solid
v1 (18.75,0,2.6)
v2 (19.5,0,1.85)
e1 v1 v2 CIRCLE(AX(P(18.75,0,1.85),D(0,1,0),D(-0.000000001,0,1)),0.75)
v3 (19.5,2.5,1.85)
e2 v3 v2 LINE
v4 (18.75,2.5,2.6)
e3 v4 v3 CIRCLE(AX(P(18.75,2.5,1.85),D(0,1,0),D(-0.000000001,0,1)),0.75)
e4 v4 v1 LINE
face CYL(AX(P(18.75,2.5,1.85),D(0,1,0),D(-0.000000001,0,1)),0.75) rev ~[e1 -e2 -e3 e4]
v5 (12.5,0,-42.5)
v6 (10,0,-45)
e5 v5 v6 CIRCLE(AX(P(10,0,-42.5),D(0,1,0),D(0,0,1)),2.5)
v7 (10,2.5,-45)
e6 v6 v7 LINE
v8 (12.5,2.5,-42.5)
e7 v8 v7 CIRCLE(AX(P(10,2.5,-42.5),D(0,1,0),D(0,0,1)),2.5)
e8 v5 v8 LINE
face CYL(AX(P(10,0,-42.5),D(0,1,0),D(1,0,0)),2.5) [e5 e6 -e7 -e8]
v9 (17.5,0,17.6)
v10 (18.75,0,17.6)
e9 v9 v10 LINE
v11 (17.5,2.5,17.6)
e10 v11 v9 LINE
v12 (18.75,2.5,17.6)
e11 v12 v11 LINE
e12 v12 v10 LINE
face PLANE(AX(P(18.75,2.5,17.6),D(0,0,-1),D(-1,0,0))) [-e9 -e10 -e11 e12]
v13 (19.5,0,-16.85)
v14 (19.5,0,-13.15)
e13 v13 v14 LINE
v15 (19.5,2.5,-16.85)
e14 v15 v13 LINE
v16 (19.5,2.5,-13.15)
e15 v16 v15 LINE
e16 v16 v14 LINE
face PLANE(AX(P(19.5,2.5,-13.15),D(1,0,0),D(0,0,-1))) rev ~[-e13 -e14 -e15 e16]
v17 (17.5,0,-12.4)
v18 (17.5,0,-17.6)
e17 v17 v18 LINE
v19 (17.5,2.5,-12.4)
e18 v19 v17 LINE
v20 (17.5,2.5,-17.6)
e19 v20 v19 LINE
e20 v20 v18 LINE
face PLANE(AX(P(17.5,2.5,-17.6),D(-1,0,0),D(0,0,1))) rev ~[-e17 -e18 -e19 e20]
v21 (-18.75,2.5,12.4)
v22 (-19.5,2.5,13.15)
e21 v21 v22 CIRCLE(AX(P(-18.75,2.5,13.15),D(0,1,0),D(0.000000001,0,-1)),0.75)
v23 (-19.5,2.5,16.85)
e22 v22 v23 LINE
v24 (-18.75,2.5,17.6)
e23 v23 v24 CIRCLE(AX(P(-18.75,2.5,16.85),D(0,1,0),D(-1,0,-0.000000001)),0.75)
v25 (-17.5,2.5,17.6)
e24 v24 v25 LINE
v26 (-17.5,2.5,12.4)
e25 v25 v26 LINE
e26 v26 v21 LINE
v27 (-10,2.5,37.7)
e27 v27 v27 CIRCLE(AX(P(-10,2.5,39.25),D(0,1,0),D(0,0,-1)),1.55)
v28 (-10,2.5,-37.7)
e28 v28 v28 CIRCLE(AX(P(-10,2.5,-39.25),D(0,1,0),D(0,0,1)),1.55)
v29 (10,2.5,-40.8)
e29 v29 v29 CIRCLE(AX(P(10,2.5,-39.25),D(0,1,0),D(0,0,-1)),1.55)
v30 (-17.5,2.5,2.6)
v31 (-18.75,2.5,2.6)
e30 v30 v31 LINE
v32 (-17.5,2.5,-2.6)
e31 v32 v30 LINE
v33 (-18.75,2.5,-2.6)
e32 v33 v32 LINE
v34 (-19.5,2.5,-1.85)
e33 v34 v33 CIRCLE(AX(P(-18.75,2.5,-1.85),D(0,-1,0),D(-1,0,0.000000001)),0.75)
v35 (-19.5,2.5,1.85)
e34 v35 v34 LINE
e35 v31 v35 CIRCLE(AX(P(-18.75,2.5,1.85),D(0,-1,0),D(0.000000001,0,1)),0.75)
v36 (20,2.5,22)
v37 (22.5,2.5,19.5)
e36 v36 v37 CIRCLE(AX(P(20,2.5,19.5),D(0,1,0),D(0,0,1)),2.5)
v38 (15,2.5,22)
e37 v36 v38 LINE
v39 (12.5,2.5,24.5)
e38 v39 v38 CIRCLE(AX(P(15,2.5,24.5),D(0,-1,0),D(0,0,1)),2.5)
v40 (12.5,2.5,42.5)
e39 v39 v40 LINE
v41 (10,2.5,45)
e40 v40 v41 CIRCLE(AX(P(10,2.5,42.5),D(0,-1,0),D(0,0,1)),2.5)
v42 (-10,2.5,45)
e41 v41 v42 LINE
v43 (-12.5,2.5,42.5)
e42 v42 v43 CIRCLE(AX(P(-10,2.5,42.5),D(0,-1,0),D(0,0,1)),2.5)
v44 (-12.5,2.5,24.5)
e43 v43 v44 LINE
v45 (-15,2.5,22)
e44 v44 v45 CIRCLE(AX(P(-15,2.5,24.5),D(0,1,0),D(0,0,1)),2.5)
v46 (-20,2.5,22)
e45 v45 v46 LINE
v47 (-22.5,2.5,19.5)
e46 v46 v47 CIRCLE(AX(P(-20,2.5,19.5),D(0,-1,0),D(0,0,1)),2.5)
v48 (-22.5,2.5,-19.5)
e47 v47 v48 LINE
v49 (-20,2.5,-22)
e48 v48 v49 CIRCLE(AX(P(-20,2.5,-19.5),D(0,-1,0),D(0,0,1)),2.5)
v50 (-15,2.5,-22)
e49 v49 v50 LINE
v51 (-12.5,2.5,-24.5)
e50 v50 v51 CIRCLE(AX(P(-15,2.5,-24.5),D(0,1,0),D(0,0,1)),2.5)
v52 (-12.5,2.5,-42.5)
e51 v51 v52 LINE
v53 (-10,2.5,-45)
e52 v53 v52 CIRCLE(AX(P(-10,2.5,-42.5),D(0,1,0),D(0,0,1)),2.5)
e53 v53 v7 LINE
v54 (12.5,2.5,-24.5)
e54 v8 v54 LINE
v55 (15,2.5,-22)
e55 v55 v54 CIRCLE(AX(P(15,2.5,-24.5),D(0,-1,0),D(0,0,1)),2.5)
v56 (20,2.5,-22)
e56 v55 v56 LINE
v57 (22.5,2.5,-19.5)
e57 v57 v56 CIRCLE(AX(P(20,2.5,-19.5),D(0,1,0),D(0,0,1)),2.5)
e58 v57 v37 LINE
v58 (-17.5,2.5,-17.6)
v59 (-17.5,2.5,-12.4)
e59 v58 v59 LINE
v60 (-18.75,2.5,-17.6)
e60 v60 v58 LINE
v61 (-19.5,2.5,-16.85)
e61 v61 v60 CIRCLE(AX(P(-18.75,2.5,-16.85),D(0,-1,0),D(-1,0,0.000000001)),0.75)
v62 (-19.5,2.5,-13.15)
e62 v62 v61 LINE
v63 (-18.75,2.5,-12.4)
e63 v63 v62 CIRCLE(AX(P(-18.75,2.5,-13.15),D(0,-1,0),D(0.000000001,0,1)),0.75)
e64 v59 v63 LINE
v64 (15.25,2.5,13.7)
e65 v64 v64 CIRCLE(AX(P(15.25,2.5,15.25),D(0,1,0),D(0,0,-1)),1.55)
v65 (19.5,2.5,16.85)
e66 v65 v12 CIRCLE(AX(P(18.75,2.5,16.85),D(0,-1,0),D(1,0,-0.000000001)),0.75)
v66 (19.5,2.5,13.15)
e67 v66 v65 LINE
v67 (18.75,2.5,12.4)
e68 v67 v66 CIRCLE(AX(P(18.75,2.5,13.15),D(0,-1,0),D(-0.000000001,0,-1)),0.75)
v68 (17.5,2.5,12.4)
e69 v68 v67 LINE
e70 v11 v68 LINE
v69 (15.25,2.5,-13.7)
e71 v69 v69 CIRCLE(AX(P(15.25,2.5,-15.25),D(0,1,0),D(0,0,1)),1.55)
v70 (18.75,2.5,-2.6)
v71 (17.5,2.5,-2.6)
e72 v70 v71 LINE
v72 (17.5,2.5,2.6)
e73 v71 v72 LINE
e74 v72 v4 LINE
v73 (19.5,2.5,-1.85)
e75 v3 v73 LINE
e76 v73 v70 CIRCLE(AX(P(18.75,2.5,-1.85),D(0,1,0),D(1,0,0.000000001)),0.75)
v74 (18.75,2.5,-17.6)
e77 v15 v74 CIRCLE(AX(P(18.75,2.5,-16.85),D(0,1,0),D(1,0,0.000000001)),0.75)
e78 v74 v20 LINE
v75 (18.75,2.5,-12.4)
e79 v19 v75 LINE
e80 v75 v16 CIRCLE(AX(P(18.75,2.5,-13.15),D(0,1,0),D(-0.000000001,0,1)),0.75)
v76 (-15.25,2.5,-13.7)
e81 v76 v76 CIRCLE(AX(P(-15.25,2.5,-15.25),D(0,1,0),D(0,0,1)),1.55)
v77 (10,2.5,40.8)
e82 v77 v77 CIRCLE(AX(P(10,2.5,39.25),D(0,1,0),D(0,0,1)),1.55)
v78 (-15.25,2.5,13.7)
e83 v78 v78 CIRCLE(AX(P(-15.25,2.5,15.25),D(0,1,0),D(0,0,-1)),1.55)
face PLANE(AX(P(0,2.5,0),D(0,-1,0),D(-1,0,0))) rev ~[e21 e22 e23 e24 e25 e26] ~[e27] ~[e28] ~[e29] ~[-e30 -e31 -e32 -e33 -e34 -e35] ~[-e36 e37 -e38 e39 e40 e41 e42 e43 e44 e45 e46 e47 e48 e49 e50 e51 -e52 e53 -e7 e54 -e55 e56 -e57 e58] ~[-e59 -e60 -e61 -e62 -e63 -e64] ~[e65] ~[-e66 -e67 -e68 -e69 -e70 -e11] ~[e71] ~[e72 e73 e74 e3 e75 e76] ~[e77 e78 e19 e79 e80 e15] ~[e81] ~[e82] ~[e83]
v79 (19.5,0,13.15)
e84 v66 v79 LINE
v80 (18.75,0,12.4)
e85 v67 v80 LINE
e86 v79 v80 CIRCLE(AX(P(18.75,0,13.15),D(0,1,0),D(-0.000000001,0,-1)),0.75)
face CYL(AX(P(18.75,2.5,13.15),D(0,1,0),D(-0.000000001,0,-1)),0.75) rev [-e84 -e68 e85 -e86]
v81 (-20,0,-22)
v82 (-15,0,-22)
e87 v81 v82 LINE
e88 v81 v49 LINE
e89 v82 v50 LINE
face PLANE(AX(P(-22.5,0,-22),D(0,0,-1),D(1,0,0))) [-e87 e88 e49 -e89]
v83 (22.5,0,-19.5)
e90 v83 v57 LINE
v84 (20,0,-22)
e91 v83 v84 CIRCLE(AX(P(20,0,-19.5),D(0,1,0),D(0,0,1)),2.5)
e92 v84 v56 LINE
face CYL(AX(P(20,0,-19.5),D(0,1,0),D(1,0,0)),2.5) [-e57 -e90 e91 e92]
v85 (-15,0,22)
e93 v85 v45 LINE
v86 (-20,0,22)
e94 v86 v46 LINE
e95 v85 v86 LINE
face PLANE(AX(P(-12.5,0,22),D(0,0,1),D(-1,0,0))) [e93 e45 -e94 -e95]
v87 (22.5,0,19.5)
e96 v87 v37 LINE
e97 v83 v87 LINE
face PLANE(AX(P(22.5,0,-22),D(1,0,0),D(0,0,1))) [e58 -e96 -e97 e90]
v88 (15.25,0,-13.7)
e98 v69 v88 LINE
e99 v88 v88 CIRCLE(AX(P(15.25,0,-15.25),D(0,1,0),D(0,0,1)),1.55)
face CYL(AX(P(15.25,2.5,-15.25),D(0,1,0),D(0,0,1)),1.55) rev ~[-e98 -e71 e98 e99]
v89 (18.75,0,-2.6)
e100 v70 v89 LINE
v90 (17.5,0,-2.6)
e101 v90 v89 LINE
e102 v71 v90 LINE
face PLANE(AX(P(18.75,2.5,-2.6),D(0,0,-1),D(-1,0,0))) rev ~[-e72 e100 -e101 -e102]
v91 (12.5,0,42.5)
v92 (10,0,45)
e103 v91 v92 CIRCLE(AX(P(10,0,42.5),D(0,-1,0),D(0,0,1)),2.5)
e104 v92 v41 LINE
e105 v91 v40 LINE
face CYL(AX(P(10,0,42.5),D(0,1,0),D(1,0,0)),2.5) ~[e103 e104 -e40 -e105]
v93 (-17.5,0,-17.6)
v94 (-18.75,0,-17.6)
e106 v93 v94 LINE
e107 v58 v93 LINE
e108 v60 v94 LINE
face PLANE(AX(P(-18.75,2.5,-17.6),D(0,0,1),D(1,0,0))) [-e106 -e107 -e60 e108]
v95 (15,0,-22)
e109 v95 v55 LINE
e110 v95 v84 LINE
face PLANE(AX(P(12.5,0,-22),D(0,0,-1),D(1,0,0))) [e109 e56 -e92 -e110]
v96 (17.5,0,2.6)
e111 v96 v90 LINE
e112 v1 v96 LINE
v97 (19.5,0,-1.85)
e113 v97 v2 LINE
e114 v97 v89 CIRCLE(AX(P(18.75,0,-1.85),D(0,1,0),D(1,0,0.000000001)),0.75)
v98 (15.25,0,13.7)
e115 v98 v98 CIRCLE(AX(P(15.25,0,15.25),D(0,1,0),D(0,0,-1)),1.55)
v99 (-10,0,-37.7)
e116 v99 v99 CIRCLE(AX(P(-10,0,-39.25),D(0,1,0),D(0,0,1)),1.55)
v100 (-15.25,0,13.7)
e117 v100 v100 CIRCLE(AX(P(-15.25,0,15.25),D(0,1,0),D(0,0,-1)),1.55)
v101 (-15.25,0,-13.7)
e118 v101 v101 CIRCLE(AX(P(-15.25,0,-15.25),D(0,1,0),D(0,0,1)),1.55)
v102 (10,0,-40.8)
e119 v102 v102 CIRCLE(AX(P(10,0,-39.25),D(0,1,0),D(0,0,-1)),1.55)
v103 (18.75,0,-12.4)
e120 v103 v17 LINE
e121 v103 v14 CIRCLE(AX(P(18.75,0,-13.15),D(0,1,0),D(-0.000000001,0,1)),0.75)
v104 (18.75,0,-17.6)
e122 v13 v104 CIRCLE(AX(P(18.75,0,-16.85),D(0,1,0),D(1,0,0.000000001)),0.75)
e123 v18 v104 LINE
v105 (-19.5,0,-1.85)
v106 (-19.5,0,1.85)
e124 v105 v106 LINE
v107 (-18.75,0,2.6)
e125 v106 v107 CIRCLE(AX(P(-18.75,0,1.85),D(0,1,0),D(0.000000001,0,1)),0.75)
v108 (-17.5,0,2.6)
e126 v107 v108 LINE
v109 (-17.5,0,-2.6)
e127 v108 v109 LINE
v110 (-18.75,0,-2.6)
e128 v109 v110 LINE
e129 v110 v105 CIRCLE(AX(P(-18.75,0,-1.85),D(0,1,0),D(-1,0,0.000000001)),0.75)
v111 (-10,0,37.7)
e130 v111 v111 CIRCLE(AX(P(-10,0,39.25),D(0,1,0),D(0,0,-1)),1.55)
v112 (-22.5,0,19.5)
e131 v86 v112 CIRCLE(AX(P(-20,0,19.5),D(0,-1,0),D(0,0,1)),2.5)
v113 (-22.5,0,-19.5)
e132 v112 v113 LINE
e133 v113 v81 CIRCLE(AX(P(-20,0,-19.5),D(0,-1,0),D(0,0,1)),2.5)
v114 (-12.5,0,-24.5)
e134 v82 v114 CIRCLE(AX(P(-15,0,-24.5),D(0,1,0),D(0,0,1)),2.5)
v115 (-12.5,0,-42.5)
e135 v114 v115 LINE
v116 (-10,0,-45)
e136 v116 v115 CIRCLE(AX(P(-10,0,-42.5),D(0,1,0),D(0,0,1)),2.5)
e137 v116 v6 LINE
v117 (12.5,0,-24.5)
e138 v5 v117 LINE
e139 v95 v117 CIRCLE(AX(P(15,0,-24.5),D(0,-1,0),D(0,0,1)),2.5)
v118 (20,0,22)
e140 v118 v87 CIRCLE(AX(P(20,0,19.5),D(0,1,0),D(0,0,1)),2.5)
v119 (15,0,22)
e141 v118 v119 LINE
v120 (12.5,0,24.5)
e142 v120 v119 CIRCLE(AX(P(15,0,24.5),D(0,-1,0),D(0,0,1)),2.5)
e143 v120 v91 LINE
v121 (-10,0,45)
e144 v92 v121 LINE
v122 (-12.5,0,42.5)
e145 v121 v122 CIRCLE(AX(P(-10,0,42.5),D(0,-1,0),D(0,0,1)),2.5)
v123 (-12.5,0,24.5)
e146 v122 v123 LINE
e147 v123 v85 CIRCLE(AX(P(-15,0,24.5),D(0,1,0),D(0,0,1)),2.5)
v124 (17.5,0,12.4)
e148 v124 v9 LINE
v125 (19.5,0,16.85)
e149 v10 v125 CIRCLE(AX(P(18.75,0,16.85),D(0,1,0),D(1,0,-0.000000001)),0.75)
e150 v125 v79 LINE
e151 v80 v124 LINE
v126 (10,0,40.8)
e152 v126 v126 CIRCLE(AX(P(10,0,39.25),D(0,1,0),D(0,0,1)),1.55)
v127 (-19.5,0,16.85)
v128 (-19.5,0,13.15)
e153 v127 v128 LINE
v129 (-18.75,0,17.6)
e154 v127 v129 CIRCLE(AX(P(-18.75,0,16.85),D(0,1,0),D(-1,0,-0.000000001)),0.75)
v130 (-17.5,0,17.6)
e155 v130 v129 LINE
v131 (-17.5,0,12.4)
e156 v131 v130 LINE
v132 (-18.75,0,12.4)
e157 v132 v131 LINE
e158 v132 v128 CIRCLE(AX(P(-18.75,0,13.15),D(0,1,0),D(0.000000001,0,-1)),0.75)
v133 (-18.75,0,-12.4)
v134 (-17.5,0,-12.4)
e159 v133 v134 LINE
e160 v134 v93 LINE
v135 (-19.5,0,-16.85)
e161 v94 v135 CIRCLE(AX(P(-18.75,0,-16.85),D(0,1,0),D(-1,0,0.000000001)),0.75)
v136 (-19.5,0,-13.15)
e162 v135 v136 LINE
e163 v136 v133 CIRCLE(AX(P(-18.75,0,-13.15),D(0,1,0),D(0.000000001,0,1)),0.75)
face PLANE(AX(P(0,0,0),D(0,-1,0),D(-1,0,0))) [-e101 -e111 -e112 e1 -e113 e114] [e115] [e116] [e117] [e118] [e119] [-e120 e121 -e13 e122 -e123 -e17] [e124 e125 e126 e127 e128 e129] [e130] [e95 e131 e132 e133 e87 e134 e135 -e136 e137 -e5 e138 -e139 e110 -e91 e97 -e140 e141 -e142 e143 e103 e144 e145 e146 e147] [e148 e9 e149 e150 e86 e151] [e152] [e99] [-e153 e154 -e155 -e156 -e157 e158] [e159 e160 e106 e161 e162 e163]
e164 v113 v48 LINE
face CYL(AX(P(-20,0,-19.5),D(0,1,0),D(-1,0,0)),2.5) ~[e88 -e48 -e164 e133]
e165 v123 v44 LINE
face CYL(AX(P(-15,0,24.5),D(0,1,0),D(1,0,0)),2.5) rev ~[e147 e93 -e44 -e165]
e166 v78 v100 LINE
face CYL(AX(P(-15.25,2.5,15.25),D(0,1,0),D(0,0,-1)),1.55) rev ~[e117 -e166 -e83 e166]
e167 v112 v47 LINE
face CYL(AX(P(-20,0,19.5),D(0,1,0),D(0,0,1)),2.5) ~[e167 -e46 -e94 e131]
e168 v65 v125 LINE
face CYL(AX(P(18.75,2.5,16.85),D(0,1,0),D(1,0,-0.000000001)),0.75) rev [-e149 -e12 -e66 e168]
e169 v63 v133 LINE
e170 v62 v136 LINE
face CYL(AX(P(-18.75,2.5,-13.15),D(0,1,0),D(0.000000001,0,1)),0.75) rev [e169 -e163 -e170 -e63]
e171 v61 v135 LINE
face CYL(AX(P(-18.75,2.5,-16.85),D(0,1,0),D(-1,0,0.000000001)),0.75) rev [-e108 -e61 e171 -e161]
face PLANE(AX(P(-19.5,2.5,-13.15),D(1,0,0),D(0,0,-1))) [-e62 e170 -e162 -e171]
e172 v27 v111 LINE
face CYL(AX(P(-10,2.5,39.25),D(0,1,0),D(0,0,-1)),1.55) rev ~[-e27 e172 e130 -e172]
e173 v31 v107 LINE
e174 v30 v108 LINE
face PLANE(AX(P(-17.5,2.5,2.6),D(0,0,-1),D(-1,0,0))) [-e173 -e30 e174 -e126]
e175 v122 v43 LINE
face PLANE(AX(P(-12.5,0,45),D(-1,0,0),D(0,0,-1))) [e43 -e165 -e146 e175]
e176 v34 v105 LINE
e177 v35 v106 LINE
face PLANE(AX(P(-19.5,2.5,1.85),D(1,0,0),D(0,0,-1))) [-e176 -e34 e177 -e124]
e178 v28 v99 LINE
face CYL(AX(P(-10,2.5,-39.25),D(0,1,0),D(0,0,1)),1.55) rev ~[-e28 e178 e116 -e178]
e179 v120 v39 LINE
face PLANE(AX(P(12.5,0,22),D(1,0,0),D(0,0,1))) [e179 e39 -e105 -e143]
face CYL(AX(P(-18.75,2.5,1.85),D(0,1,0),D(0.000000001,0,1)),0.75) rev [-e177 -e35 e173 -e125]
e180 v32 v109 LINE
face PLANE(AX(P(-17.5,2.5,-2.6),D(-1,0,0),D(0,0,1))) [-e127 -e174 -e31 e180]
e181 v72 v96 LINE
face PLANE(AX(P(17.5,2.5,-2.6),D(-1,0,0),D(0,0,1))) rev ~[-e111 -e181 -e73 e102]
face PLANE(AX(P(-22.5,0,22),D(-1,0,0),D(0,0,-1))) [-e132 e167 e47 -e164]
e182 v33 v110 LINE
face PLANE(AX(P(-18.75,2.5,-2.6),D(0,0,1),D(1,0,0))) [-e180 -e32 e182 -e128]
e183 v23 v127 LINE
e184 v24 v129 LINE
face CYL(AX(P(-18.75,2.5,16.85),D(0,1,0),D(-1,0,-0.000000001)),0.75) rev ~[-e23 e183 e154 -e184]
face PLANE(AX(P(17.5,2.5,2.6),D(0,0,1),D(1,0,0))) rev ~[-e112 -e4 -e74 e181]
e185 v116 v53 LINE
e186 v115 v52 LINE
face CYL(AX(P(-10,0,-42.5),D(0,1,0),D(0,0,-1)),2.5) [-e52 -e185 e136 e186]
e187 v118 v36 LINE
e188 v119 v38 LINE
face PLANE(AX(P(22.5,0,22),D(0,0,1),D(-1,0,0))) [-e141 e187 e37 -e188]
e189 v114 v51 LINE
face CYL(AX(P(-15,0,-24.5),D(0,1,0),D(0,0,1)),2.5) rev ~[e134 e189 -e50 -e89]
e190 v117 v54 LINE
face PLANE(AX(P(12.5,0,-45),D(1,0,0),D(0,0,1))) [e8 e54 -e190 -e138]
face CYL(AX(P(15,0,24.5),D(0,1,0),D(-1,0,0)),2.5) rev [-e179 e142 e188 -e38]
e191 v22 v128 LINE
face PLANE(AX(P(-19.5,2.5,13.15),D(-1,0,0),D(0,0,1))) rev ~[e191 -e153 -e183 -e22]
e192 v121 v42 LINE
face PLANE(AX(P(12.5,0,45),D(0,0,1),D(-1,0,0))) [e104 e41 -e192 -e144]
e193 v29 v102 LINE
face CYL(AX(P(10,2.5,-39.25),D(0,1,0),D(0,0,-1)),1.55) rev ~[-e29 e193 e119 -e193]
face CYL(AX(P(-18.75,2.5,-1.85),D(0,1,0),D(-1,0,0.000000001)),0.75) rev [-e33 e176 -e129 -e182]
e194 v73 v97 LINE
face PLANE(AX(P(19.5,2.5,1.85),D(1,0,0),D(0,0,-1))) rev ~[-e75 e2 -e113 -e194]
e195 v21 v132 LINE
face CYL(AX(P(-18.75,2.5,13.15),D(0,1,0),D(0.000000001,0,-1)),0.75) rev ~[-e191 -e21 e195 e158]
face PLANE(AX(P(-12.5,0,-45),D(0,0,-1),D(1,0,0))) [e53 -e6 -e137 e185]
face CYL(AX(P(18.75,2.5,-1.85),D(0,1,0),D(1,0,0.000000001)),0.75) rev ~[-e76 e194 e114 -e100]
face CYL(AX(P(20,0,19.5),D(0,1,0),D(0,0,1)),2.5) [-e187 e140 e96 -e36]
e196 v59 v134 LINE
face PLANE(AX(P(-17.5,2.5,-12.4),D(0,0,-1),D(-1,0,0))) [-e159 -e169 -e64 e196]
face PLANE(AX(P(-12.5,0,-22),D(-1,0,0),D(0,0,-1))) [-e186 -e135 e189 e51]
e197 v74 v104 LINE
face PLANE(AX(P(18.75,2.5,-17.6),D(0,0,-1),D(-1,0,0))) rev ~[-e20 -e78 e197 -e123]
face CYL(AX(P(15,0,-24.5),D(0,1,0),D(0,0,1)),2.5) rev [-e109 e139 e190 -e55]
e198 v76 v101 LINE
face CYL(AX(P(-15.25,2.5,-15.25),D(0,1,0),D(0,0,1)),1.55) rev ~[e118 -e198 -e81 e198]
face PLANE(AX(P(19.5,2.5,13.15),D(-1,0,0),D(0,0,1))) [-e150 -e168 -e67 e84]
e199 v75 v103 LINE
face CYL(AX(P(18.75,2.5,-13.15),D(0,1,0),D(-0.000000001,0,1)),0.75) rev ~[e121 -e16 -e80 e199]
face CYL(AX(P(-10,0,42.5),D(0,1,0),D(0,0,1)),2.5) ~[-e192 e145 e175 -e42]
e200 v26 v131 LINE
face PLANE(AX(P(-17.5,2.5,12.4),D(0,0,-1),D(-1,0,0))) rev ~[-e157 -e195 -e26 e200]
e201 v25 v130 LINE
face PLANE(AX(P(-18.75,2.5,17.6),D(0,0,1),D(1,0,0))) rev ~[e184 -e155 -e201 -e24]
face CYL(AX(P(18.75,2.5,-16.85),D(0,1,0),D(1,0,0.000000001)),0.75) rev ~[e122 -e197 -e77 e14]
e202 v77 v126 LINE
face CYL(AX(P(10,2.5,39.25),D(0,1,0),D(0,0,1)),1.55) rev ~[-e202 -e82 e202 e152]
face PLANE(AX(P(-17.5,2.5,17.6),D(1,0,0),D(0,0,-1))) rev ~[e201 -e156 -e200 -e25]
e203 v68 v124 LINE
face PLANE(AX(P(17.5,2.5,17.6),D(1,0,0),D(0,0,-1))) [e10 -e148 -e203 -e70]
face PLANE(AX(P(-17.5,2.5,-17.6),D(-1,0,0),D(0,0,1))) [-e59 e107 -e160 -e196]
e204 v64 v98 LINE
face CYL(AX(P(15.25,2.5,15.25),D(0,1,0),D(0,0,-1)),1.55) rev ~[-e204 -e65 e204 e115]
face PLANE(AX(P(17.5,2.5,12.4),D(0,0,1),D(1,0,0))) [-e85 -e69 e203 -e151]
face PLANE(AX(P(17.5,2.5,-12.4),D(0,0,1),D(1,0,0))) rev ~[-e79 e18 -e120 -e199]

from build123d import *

# Parameters (mm, degrees)
BOSS_EXTRUDE1_DEPTH = 2.5
SKETCH2_R           = 1.55
CUT_EXTRUDE1_DEPTH  = 51.373604199
CUT_EXTRUDE2_DEPTH  = 51.373604199
FILLET2_R           = 2.5
FILLET3_R           = 2.5


with BuildPart() as part:
    # Sketch1 → Boss-Extrude1 (new body)
    with BuildSketch(Plane(origin=(0, 0, 0), x_dir=(1, 0, 0), z_dir=(0, 1, 0))):
        Polygon((12.5, -45), (-12.5, -45), (-12.5, -22), (-22.5, -22), (-22.5, 22), (-12.5, 22), (-12.5, 45), (12.5, 45), (12.5, 22), (22.5, 22), (22.5, -22), (12.5, -22), align=None)
    extrude(amount=BOSS_EXTRUDE1_DEPTH)

    # Sketch2 → Cut-Extrude1 (cut, through all)
    with BuildSketch(Plane(origin=(0, 2.5, 0), x_dir=(1, 0, 0), z_dir=(0, 1, 0))):
        with Locations(Location((-15.25, 15.25, 0), (0, 0, 270))):
            Circle(SKETCH2_R)
        with Locations(Location((15.25, 15.25, 0), (0, 0, 270))):
            Circle(SKETCH2_R)
        with Locations(Location((15.25, -15.25, 0), (0, 0, 90))):
            Circle(SKETCH2_R)
        with Locations(Location((-15.25, -15.25, 0), (0, 0, 90))):
            Circle(SKETCH2_R)
        with Locations(Location((-10, 39.25, 0), (0, 0, 270))):
            Circle(SKETCH2_R)
        with Locations(Location((-10, -39.25, 0), (0, 0, 90))):
            Circle(SKETCH2_R)
        with Locations(Location((10, -39.25, 0), (0, 0, 270))):
            Circle(SKETCH2_R)
        with Locations(Location((10, 39.25, 0), (0, 0, 90))):
            Circle(SKETCH2_R)
    extrude(amount=-CUT_EXTRUDE1_DEPTH, mode=Mode.SUBTRACT)

    # Sketch3 → Cut-Extrude2 (cut, through all)
    with BuildSketch(Plane(origin=(0, 2.5, 0), x_dir=(1, 0, 0), z_dir=(0, 1, 0))):
        with BuildLine():
            Line((-17.5, -2.6), (-18.75, -2.6))
            ThreePointArc((-18.75, -2.6), (-19.280330086, -2.380330086), (-19.5, -1.85))
            Line((-19.5, -1.85), (-19.5, 1.85))
            ThreePointArc((-19.5, 1.85), (-19.280330086, 2.380330086), (-18.75, 2.6))
            Line((-18.75, 2.6), (-17.5, 2.6))
            Line((-17.5, 2.6), (-17.5, -2.6))
        make_face()
        with BuildLine():
            Line((-17.5, 12.4), (-18.75, 12.4))
            ThreePointArc((-18.75, 12.4), (-19.280330086, 12.619669914), (-19.5, 13.15))
            Line((-19.5, 13.15), (-19.5, 16.85))
            ThreePointArc((-19.5, 16.85), (-19.280330086, 17.380330086), (-18.75, 17.6))
            Line((-18.75, 17.6), (-17.5, 17.6))
            Line((-17.5, 17.6), (-17.5, 12.4))
        make_face()
        with BuildLine():
            Line((-17.5, 27.4), (-18.75, 27.4))
            ThreePointArc((-18.75, 27.4), (-19.280330086, 27.619669914), (-19.5, 28.15))
            Line((-19.5, 28.15), (-19.5, 31.85))
            ThreePointArc((-19.5, 31.85), (-19.280330086, 32.380330086), (-18.75, 32.6))
            Line((-18.75, 32.6), (-17.5, 32.6))
            Line((-17.5, 32.6), (-17.5, 27.4))
        make_face()
        with BuildLine():
            Line((19.5, 28.15), (19.5, 31.85))
            ThreePointArc((19.5, 31.85), (19.280330086, 32.380330086), (18.75, 32.6))
            Line((18.75, 32.6), (17.5, 32.6))
            Line((17.5, 32.6), (17.5, 27.4))
            Line((17.5, 27.4), (18.75, 27.4))
            ThreePointArc((18.75, 27.4), (19.280330086, 27.619669914), (19.5, 28.15))
        make_face()
        with BuildLine():
            Line((19.5, 13.15), (19.5, 16.85))
            ThreePointArc((19.5, 16.85), (19.280330086, 17.380330086), (18.75, 17.6))
            Line((18.75, 17.6), (17.5, 17.6))
            Line((17.5, 17.6), (17.5, 12.4))
            Line((17.5, 12.4), (18.75, 12.4))
            ThreePointArc((18.75, 12.4), (19.280330086, 12.619669914), (19.5, 13.15))
        make_face()
        with BuildLine():
            Line((19.5, -1.85), (19.5, 1.85))
            ThreePointArc((19.5, 1.85), (19.280330086, 2.380330086), (18.75, 2.6))
            Line((18.75, 2.6), (17.5, 2.6))
            Line((17.5, 2.6), (17.5, -2.6))
            Line((17.5, -2.6), (18.75, -2.6))
            ThreePointArc((18.75, -2.6), (19.280330086, -2.380330086), (19.5, -1.85))
        make_face()
        with BuildLine():
            Line((17.5, -12.4), (18.75, -12.4))
            ThreePointArc((18.75, -12.4), (19.280330086, -12.619669914), (19.5, -13.15))
            Line((19.5, -13.15), (19.5, -16.85))
            ThreePointArc((19.5, -16.85), (19.280330086, -17.380330086), (18.75, -17.6))
            Line((18.75, -17.6), (17.5, -17.6))
            Line((17.5, -17.6), (17.5, -12.4))
        make_face()
        with BuildLine():
            Line((17.5, -27.4), (18.75, -27.4))
            ThreePointArc((18.75, -27.4), (19.280330086, -27.619669914), (19.5, -28.15))
            Line((19.5, -28.15), (19.5, -31.85))
            ThreePointArc((19.5, -31.85), (19.280330086, -32.380330086), (18.75, -32.6))
            Line((18.75, -32.6), (17.5, -32.6))
            Line((17.5, -32.6), (17.5, -27.4))
        make_face()
        with BuildLine():
            Line((-19.5, -28.15), (-19.5, -31.85))
            ThreePointArc((-19.5, -31.85), (-19.280330086, -32.380330086), (-18.75, -32.6))
            Line((-18.75, -32.6), (-17.5, -32.6))
            Line((-17.5, -32.6), (-17.5, -27.4))
            Line((-17.5, -27.4), (-18.75, -27.4))
            ThreePointArc((-18.75, -27.4), (-19.280330086, -27.619669914), (-19.5, -28.15))
        make_face()
        with BuildLine():
            Line((-19.5, -13.15), (-19.5, -16.85))
            ThreePointArc((-19.5, -16.85), (-19.280330086, -17.380330086), (-18.75, -17.6))
            Line((-18.75, -17.6), (-17.5, -17.6))
            Line((-17.5, -17.6), (-17.5, -12.4))
            Line((-17.5, -12.4), (-18.75, -12.4))
            ThreePointArc((-18.75, -12.4), (-19.280330086, -12.619669914), (-19.5, -13.15))
        make_face()
    extrude(amount=-CUT_EXTRUDE2_DEPTH, mode=Mode.SUBTRACT)

    # Fillet2
    fillet2_edges = [part.edges().sort_by_distance(p)[0] for p in [
        (-12.5, 1.25, 22),
        (-22.5, 1.25, 22),
        (-22.5, 1.25, -22),
        (-12.5, 1.25, -22),
        (12.5, 1.25, -22),
        (22.5, 1.25, -22),
        (22.5, 1.25, 22),
        (12.5, 1.25, 22),
    ]]
    fillet(fillet2_edges, radius=FILLET2_R)

    # Fillet3
    fillet3_edges = [part.edges().sort_by_distance(p)[0] for p in [
        (12.5, 1.25, 45),
        (-12.5, 1.25, 45),
        (-12.5, 1.25, -45),
        (12.5, 1.25, -45),
    ]]
    fillet(fillet3_edges, radius=FILLET3_R)


solid = part.part
